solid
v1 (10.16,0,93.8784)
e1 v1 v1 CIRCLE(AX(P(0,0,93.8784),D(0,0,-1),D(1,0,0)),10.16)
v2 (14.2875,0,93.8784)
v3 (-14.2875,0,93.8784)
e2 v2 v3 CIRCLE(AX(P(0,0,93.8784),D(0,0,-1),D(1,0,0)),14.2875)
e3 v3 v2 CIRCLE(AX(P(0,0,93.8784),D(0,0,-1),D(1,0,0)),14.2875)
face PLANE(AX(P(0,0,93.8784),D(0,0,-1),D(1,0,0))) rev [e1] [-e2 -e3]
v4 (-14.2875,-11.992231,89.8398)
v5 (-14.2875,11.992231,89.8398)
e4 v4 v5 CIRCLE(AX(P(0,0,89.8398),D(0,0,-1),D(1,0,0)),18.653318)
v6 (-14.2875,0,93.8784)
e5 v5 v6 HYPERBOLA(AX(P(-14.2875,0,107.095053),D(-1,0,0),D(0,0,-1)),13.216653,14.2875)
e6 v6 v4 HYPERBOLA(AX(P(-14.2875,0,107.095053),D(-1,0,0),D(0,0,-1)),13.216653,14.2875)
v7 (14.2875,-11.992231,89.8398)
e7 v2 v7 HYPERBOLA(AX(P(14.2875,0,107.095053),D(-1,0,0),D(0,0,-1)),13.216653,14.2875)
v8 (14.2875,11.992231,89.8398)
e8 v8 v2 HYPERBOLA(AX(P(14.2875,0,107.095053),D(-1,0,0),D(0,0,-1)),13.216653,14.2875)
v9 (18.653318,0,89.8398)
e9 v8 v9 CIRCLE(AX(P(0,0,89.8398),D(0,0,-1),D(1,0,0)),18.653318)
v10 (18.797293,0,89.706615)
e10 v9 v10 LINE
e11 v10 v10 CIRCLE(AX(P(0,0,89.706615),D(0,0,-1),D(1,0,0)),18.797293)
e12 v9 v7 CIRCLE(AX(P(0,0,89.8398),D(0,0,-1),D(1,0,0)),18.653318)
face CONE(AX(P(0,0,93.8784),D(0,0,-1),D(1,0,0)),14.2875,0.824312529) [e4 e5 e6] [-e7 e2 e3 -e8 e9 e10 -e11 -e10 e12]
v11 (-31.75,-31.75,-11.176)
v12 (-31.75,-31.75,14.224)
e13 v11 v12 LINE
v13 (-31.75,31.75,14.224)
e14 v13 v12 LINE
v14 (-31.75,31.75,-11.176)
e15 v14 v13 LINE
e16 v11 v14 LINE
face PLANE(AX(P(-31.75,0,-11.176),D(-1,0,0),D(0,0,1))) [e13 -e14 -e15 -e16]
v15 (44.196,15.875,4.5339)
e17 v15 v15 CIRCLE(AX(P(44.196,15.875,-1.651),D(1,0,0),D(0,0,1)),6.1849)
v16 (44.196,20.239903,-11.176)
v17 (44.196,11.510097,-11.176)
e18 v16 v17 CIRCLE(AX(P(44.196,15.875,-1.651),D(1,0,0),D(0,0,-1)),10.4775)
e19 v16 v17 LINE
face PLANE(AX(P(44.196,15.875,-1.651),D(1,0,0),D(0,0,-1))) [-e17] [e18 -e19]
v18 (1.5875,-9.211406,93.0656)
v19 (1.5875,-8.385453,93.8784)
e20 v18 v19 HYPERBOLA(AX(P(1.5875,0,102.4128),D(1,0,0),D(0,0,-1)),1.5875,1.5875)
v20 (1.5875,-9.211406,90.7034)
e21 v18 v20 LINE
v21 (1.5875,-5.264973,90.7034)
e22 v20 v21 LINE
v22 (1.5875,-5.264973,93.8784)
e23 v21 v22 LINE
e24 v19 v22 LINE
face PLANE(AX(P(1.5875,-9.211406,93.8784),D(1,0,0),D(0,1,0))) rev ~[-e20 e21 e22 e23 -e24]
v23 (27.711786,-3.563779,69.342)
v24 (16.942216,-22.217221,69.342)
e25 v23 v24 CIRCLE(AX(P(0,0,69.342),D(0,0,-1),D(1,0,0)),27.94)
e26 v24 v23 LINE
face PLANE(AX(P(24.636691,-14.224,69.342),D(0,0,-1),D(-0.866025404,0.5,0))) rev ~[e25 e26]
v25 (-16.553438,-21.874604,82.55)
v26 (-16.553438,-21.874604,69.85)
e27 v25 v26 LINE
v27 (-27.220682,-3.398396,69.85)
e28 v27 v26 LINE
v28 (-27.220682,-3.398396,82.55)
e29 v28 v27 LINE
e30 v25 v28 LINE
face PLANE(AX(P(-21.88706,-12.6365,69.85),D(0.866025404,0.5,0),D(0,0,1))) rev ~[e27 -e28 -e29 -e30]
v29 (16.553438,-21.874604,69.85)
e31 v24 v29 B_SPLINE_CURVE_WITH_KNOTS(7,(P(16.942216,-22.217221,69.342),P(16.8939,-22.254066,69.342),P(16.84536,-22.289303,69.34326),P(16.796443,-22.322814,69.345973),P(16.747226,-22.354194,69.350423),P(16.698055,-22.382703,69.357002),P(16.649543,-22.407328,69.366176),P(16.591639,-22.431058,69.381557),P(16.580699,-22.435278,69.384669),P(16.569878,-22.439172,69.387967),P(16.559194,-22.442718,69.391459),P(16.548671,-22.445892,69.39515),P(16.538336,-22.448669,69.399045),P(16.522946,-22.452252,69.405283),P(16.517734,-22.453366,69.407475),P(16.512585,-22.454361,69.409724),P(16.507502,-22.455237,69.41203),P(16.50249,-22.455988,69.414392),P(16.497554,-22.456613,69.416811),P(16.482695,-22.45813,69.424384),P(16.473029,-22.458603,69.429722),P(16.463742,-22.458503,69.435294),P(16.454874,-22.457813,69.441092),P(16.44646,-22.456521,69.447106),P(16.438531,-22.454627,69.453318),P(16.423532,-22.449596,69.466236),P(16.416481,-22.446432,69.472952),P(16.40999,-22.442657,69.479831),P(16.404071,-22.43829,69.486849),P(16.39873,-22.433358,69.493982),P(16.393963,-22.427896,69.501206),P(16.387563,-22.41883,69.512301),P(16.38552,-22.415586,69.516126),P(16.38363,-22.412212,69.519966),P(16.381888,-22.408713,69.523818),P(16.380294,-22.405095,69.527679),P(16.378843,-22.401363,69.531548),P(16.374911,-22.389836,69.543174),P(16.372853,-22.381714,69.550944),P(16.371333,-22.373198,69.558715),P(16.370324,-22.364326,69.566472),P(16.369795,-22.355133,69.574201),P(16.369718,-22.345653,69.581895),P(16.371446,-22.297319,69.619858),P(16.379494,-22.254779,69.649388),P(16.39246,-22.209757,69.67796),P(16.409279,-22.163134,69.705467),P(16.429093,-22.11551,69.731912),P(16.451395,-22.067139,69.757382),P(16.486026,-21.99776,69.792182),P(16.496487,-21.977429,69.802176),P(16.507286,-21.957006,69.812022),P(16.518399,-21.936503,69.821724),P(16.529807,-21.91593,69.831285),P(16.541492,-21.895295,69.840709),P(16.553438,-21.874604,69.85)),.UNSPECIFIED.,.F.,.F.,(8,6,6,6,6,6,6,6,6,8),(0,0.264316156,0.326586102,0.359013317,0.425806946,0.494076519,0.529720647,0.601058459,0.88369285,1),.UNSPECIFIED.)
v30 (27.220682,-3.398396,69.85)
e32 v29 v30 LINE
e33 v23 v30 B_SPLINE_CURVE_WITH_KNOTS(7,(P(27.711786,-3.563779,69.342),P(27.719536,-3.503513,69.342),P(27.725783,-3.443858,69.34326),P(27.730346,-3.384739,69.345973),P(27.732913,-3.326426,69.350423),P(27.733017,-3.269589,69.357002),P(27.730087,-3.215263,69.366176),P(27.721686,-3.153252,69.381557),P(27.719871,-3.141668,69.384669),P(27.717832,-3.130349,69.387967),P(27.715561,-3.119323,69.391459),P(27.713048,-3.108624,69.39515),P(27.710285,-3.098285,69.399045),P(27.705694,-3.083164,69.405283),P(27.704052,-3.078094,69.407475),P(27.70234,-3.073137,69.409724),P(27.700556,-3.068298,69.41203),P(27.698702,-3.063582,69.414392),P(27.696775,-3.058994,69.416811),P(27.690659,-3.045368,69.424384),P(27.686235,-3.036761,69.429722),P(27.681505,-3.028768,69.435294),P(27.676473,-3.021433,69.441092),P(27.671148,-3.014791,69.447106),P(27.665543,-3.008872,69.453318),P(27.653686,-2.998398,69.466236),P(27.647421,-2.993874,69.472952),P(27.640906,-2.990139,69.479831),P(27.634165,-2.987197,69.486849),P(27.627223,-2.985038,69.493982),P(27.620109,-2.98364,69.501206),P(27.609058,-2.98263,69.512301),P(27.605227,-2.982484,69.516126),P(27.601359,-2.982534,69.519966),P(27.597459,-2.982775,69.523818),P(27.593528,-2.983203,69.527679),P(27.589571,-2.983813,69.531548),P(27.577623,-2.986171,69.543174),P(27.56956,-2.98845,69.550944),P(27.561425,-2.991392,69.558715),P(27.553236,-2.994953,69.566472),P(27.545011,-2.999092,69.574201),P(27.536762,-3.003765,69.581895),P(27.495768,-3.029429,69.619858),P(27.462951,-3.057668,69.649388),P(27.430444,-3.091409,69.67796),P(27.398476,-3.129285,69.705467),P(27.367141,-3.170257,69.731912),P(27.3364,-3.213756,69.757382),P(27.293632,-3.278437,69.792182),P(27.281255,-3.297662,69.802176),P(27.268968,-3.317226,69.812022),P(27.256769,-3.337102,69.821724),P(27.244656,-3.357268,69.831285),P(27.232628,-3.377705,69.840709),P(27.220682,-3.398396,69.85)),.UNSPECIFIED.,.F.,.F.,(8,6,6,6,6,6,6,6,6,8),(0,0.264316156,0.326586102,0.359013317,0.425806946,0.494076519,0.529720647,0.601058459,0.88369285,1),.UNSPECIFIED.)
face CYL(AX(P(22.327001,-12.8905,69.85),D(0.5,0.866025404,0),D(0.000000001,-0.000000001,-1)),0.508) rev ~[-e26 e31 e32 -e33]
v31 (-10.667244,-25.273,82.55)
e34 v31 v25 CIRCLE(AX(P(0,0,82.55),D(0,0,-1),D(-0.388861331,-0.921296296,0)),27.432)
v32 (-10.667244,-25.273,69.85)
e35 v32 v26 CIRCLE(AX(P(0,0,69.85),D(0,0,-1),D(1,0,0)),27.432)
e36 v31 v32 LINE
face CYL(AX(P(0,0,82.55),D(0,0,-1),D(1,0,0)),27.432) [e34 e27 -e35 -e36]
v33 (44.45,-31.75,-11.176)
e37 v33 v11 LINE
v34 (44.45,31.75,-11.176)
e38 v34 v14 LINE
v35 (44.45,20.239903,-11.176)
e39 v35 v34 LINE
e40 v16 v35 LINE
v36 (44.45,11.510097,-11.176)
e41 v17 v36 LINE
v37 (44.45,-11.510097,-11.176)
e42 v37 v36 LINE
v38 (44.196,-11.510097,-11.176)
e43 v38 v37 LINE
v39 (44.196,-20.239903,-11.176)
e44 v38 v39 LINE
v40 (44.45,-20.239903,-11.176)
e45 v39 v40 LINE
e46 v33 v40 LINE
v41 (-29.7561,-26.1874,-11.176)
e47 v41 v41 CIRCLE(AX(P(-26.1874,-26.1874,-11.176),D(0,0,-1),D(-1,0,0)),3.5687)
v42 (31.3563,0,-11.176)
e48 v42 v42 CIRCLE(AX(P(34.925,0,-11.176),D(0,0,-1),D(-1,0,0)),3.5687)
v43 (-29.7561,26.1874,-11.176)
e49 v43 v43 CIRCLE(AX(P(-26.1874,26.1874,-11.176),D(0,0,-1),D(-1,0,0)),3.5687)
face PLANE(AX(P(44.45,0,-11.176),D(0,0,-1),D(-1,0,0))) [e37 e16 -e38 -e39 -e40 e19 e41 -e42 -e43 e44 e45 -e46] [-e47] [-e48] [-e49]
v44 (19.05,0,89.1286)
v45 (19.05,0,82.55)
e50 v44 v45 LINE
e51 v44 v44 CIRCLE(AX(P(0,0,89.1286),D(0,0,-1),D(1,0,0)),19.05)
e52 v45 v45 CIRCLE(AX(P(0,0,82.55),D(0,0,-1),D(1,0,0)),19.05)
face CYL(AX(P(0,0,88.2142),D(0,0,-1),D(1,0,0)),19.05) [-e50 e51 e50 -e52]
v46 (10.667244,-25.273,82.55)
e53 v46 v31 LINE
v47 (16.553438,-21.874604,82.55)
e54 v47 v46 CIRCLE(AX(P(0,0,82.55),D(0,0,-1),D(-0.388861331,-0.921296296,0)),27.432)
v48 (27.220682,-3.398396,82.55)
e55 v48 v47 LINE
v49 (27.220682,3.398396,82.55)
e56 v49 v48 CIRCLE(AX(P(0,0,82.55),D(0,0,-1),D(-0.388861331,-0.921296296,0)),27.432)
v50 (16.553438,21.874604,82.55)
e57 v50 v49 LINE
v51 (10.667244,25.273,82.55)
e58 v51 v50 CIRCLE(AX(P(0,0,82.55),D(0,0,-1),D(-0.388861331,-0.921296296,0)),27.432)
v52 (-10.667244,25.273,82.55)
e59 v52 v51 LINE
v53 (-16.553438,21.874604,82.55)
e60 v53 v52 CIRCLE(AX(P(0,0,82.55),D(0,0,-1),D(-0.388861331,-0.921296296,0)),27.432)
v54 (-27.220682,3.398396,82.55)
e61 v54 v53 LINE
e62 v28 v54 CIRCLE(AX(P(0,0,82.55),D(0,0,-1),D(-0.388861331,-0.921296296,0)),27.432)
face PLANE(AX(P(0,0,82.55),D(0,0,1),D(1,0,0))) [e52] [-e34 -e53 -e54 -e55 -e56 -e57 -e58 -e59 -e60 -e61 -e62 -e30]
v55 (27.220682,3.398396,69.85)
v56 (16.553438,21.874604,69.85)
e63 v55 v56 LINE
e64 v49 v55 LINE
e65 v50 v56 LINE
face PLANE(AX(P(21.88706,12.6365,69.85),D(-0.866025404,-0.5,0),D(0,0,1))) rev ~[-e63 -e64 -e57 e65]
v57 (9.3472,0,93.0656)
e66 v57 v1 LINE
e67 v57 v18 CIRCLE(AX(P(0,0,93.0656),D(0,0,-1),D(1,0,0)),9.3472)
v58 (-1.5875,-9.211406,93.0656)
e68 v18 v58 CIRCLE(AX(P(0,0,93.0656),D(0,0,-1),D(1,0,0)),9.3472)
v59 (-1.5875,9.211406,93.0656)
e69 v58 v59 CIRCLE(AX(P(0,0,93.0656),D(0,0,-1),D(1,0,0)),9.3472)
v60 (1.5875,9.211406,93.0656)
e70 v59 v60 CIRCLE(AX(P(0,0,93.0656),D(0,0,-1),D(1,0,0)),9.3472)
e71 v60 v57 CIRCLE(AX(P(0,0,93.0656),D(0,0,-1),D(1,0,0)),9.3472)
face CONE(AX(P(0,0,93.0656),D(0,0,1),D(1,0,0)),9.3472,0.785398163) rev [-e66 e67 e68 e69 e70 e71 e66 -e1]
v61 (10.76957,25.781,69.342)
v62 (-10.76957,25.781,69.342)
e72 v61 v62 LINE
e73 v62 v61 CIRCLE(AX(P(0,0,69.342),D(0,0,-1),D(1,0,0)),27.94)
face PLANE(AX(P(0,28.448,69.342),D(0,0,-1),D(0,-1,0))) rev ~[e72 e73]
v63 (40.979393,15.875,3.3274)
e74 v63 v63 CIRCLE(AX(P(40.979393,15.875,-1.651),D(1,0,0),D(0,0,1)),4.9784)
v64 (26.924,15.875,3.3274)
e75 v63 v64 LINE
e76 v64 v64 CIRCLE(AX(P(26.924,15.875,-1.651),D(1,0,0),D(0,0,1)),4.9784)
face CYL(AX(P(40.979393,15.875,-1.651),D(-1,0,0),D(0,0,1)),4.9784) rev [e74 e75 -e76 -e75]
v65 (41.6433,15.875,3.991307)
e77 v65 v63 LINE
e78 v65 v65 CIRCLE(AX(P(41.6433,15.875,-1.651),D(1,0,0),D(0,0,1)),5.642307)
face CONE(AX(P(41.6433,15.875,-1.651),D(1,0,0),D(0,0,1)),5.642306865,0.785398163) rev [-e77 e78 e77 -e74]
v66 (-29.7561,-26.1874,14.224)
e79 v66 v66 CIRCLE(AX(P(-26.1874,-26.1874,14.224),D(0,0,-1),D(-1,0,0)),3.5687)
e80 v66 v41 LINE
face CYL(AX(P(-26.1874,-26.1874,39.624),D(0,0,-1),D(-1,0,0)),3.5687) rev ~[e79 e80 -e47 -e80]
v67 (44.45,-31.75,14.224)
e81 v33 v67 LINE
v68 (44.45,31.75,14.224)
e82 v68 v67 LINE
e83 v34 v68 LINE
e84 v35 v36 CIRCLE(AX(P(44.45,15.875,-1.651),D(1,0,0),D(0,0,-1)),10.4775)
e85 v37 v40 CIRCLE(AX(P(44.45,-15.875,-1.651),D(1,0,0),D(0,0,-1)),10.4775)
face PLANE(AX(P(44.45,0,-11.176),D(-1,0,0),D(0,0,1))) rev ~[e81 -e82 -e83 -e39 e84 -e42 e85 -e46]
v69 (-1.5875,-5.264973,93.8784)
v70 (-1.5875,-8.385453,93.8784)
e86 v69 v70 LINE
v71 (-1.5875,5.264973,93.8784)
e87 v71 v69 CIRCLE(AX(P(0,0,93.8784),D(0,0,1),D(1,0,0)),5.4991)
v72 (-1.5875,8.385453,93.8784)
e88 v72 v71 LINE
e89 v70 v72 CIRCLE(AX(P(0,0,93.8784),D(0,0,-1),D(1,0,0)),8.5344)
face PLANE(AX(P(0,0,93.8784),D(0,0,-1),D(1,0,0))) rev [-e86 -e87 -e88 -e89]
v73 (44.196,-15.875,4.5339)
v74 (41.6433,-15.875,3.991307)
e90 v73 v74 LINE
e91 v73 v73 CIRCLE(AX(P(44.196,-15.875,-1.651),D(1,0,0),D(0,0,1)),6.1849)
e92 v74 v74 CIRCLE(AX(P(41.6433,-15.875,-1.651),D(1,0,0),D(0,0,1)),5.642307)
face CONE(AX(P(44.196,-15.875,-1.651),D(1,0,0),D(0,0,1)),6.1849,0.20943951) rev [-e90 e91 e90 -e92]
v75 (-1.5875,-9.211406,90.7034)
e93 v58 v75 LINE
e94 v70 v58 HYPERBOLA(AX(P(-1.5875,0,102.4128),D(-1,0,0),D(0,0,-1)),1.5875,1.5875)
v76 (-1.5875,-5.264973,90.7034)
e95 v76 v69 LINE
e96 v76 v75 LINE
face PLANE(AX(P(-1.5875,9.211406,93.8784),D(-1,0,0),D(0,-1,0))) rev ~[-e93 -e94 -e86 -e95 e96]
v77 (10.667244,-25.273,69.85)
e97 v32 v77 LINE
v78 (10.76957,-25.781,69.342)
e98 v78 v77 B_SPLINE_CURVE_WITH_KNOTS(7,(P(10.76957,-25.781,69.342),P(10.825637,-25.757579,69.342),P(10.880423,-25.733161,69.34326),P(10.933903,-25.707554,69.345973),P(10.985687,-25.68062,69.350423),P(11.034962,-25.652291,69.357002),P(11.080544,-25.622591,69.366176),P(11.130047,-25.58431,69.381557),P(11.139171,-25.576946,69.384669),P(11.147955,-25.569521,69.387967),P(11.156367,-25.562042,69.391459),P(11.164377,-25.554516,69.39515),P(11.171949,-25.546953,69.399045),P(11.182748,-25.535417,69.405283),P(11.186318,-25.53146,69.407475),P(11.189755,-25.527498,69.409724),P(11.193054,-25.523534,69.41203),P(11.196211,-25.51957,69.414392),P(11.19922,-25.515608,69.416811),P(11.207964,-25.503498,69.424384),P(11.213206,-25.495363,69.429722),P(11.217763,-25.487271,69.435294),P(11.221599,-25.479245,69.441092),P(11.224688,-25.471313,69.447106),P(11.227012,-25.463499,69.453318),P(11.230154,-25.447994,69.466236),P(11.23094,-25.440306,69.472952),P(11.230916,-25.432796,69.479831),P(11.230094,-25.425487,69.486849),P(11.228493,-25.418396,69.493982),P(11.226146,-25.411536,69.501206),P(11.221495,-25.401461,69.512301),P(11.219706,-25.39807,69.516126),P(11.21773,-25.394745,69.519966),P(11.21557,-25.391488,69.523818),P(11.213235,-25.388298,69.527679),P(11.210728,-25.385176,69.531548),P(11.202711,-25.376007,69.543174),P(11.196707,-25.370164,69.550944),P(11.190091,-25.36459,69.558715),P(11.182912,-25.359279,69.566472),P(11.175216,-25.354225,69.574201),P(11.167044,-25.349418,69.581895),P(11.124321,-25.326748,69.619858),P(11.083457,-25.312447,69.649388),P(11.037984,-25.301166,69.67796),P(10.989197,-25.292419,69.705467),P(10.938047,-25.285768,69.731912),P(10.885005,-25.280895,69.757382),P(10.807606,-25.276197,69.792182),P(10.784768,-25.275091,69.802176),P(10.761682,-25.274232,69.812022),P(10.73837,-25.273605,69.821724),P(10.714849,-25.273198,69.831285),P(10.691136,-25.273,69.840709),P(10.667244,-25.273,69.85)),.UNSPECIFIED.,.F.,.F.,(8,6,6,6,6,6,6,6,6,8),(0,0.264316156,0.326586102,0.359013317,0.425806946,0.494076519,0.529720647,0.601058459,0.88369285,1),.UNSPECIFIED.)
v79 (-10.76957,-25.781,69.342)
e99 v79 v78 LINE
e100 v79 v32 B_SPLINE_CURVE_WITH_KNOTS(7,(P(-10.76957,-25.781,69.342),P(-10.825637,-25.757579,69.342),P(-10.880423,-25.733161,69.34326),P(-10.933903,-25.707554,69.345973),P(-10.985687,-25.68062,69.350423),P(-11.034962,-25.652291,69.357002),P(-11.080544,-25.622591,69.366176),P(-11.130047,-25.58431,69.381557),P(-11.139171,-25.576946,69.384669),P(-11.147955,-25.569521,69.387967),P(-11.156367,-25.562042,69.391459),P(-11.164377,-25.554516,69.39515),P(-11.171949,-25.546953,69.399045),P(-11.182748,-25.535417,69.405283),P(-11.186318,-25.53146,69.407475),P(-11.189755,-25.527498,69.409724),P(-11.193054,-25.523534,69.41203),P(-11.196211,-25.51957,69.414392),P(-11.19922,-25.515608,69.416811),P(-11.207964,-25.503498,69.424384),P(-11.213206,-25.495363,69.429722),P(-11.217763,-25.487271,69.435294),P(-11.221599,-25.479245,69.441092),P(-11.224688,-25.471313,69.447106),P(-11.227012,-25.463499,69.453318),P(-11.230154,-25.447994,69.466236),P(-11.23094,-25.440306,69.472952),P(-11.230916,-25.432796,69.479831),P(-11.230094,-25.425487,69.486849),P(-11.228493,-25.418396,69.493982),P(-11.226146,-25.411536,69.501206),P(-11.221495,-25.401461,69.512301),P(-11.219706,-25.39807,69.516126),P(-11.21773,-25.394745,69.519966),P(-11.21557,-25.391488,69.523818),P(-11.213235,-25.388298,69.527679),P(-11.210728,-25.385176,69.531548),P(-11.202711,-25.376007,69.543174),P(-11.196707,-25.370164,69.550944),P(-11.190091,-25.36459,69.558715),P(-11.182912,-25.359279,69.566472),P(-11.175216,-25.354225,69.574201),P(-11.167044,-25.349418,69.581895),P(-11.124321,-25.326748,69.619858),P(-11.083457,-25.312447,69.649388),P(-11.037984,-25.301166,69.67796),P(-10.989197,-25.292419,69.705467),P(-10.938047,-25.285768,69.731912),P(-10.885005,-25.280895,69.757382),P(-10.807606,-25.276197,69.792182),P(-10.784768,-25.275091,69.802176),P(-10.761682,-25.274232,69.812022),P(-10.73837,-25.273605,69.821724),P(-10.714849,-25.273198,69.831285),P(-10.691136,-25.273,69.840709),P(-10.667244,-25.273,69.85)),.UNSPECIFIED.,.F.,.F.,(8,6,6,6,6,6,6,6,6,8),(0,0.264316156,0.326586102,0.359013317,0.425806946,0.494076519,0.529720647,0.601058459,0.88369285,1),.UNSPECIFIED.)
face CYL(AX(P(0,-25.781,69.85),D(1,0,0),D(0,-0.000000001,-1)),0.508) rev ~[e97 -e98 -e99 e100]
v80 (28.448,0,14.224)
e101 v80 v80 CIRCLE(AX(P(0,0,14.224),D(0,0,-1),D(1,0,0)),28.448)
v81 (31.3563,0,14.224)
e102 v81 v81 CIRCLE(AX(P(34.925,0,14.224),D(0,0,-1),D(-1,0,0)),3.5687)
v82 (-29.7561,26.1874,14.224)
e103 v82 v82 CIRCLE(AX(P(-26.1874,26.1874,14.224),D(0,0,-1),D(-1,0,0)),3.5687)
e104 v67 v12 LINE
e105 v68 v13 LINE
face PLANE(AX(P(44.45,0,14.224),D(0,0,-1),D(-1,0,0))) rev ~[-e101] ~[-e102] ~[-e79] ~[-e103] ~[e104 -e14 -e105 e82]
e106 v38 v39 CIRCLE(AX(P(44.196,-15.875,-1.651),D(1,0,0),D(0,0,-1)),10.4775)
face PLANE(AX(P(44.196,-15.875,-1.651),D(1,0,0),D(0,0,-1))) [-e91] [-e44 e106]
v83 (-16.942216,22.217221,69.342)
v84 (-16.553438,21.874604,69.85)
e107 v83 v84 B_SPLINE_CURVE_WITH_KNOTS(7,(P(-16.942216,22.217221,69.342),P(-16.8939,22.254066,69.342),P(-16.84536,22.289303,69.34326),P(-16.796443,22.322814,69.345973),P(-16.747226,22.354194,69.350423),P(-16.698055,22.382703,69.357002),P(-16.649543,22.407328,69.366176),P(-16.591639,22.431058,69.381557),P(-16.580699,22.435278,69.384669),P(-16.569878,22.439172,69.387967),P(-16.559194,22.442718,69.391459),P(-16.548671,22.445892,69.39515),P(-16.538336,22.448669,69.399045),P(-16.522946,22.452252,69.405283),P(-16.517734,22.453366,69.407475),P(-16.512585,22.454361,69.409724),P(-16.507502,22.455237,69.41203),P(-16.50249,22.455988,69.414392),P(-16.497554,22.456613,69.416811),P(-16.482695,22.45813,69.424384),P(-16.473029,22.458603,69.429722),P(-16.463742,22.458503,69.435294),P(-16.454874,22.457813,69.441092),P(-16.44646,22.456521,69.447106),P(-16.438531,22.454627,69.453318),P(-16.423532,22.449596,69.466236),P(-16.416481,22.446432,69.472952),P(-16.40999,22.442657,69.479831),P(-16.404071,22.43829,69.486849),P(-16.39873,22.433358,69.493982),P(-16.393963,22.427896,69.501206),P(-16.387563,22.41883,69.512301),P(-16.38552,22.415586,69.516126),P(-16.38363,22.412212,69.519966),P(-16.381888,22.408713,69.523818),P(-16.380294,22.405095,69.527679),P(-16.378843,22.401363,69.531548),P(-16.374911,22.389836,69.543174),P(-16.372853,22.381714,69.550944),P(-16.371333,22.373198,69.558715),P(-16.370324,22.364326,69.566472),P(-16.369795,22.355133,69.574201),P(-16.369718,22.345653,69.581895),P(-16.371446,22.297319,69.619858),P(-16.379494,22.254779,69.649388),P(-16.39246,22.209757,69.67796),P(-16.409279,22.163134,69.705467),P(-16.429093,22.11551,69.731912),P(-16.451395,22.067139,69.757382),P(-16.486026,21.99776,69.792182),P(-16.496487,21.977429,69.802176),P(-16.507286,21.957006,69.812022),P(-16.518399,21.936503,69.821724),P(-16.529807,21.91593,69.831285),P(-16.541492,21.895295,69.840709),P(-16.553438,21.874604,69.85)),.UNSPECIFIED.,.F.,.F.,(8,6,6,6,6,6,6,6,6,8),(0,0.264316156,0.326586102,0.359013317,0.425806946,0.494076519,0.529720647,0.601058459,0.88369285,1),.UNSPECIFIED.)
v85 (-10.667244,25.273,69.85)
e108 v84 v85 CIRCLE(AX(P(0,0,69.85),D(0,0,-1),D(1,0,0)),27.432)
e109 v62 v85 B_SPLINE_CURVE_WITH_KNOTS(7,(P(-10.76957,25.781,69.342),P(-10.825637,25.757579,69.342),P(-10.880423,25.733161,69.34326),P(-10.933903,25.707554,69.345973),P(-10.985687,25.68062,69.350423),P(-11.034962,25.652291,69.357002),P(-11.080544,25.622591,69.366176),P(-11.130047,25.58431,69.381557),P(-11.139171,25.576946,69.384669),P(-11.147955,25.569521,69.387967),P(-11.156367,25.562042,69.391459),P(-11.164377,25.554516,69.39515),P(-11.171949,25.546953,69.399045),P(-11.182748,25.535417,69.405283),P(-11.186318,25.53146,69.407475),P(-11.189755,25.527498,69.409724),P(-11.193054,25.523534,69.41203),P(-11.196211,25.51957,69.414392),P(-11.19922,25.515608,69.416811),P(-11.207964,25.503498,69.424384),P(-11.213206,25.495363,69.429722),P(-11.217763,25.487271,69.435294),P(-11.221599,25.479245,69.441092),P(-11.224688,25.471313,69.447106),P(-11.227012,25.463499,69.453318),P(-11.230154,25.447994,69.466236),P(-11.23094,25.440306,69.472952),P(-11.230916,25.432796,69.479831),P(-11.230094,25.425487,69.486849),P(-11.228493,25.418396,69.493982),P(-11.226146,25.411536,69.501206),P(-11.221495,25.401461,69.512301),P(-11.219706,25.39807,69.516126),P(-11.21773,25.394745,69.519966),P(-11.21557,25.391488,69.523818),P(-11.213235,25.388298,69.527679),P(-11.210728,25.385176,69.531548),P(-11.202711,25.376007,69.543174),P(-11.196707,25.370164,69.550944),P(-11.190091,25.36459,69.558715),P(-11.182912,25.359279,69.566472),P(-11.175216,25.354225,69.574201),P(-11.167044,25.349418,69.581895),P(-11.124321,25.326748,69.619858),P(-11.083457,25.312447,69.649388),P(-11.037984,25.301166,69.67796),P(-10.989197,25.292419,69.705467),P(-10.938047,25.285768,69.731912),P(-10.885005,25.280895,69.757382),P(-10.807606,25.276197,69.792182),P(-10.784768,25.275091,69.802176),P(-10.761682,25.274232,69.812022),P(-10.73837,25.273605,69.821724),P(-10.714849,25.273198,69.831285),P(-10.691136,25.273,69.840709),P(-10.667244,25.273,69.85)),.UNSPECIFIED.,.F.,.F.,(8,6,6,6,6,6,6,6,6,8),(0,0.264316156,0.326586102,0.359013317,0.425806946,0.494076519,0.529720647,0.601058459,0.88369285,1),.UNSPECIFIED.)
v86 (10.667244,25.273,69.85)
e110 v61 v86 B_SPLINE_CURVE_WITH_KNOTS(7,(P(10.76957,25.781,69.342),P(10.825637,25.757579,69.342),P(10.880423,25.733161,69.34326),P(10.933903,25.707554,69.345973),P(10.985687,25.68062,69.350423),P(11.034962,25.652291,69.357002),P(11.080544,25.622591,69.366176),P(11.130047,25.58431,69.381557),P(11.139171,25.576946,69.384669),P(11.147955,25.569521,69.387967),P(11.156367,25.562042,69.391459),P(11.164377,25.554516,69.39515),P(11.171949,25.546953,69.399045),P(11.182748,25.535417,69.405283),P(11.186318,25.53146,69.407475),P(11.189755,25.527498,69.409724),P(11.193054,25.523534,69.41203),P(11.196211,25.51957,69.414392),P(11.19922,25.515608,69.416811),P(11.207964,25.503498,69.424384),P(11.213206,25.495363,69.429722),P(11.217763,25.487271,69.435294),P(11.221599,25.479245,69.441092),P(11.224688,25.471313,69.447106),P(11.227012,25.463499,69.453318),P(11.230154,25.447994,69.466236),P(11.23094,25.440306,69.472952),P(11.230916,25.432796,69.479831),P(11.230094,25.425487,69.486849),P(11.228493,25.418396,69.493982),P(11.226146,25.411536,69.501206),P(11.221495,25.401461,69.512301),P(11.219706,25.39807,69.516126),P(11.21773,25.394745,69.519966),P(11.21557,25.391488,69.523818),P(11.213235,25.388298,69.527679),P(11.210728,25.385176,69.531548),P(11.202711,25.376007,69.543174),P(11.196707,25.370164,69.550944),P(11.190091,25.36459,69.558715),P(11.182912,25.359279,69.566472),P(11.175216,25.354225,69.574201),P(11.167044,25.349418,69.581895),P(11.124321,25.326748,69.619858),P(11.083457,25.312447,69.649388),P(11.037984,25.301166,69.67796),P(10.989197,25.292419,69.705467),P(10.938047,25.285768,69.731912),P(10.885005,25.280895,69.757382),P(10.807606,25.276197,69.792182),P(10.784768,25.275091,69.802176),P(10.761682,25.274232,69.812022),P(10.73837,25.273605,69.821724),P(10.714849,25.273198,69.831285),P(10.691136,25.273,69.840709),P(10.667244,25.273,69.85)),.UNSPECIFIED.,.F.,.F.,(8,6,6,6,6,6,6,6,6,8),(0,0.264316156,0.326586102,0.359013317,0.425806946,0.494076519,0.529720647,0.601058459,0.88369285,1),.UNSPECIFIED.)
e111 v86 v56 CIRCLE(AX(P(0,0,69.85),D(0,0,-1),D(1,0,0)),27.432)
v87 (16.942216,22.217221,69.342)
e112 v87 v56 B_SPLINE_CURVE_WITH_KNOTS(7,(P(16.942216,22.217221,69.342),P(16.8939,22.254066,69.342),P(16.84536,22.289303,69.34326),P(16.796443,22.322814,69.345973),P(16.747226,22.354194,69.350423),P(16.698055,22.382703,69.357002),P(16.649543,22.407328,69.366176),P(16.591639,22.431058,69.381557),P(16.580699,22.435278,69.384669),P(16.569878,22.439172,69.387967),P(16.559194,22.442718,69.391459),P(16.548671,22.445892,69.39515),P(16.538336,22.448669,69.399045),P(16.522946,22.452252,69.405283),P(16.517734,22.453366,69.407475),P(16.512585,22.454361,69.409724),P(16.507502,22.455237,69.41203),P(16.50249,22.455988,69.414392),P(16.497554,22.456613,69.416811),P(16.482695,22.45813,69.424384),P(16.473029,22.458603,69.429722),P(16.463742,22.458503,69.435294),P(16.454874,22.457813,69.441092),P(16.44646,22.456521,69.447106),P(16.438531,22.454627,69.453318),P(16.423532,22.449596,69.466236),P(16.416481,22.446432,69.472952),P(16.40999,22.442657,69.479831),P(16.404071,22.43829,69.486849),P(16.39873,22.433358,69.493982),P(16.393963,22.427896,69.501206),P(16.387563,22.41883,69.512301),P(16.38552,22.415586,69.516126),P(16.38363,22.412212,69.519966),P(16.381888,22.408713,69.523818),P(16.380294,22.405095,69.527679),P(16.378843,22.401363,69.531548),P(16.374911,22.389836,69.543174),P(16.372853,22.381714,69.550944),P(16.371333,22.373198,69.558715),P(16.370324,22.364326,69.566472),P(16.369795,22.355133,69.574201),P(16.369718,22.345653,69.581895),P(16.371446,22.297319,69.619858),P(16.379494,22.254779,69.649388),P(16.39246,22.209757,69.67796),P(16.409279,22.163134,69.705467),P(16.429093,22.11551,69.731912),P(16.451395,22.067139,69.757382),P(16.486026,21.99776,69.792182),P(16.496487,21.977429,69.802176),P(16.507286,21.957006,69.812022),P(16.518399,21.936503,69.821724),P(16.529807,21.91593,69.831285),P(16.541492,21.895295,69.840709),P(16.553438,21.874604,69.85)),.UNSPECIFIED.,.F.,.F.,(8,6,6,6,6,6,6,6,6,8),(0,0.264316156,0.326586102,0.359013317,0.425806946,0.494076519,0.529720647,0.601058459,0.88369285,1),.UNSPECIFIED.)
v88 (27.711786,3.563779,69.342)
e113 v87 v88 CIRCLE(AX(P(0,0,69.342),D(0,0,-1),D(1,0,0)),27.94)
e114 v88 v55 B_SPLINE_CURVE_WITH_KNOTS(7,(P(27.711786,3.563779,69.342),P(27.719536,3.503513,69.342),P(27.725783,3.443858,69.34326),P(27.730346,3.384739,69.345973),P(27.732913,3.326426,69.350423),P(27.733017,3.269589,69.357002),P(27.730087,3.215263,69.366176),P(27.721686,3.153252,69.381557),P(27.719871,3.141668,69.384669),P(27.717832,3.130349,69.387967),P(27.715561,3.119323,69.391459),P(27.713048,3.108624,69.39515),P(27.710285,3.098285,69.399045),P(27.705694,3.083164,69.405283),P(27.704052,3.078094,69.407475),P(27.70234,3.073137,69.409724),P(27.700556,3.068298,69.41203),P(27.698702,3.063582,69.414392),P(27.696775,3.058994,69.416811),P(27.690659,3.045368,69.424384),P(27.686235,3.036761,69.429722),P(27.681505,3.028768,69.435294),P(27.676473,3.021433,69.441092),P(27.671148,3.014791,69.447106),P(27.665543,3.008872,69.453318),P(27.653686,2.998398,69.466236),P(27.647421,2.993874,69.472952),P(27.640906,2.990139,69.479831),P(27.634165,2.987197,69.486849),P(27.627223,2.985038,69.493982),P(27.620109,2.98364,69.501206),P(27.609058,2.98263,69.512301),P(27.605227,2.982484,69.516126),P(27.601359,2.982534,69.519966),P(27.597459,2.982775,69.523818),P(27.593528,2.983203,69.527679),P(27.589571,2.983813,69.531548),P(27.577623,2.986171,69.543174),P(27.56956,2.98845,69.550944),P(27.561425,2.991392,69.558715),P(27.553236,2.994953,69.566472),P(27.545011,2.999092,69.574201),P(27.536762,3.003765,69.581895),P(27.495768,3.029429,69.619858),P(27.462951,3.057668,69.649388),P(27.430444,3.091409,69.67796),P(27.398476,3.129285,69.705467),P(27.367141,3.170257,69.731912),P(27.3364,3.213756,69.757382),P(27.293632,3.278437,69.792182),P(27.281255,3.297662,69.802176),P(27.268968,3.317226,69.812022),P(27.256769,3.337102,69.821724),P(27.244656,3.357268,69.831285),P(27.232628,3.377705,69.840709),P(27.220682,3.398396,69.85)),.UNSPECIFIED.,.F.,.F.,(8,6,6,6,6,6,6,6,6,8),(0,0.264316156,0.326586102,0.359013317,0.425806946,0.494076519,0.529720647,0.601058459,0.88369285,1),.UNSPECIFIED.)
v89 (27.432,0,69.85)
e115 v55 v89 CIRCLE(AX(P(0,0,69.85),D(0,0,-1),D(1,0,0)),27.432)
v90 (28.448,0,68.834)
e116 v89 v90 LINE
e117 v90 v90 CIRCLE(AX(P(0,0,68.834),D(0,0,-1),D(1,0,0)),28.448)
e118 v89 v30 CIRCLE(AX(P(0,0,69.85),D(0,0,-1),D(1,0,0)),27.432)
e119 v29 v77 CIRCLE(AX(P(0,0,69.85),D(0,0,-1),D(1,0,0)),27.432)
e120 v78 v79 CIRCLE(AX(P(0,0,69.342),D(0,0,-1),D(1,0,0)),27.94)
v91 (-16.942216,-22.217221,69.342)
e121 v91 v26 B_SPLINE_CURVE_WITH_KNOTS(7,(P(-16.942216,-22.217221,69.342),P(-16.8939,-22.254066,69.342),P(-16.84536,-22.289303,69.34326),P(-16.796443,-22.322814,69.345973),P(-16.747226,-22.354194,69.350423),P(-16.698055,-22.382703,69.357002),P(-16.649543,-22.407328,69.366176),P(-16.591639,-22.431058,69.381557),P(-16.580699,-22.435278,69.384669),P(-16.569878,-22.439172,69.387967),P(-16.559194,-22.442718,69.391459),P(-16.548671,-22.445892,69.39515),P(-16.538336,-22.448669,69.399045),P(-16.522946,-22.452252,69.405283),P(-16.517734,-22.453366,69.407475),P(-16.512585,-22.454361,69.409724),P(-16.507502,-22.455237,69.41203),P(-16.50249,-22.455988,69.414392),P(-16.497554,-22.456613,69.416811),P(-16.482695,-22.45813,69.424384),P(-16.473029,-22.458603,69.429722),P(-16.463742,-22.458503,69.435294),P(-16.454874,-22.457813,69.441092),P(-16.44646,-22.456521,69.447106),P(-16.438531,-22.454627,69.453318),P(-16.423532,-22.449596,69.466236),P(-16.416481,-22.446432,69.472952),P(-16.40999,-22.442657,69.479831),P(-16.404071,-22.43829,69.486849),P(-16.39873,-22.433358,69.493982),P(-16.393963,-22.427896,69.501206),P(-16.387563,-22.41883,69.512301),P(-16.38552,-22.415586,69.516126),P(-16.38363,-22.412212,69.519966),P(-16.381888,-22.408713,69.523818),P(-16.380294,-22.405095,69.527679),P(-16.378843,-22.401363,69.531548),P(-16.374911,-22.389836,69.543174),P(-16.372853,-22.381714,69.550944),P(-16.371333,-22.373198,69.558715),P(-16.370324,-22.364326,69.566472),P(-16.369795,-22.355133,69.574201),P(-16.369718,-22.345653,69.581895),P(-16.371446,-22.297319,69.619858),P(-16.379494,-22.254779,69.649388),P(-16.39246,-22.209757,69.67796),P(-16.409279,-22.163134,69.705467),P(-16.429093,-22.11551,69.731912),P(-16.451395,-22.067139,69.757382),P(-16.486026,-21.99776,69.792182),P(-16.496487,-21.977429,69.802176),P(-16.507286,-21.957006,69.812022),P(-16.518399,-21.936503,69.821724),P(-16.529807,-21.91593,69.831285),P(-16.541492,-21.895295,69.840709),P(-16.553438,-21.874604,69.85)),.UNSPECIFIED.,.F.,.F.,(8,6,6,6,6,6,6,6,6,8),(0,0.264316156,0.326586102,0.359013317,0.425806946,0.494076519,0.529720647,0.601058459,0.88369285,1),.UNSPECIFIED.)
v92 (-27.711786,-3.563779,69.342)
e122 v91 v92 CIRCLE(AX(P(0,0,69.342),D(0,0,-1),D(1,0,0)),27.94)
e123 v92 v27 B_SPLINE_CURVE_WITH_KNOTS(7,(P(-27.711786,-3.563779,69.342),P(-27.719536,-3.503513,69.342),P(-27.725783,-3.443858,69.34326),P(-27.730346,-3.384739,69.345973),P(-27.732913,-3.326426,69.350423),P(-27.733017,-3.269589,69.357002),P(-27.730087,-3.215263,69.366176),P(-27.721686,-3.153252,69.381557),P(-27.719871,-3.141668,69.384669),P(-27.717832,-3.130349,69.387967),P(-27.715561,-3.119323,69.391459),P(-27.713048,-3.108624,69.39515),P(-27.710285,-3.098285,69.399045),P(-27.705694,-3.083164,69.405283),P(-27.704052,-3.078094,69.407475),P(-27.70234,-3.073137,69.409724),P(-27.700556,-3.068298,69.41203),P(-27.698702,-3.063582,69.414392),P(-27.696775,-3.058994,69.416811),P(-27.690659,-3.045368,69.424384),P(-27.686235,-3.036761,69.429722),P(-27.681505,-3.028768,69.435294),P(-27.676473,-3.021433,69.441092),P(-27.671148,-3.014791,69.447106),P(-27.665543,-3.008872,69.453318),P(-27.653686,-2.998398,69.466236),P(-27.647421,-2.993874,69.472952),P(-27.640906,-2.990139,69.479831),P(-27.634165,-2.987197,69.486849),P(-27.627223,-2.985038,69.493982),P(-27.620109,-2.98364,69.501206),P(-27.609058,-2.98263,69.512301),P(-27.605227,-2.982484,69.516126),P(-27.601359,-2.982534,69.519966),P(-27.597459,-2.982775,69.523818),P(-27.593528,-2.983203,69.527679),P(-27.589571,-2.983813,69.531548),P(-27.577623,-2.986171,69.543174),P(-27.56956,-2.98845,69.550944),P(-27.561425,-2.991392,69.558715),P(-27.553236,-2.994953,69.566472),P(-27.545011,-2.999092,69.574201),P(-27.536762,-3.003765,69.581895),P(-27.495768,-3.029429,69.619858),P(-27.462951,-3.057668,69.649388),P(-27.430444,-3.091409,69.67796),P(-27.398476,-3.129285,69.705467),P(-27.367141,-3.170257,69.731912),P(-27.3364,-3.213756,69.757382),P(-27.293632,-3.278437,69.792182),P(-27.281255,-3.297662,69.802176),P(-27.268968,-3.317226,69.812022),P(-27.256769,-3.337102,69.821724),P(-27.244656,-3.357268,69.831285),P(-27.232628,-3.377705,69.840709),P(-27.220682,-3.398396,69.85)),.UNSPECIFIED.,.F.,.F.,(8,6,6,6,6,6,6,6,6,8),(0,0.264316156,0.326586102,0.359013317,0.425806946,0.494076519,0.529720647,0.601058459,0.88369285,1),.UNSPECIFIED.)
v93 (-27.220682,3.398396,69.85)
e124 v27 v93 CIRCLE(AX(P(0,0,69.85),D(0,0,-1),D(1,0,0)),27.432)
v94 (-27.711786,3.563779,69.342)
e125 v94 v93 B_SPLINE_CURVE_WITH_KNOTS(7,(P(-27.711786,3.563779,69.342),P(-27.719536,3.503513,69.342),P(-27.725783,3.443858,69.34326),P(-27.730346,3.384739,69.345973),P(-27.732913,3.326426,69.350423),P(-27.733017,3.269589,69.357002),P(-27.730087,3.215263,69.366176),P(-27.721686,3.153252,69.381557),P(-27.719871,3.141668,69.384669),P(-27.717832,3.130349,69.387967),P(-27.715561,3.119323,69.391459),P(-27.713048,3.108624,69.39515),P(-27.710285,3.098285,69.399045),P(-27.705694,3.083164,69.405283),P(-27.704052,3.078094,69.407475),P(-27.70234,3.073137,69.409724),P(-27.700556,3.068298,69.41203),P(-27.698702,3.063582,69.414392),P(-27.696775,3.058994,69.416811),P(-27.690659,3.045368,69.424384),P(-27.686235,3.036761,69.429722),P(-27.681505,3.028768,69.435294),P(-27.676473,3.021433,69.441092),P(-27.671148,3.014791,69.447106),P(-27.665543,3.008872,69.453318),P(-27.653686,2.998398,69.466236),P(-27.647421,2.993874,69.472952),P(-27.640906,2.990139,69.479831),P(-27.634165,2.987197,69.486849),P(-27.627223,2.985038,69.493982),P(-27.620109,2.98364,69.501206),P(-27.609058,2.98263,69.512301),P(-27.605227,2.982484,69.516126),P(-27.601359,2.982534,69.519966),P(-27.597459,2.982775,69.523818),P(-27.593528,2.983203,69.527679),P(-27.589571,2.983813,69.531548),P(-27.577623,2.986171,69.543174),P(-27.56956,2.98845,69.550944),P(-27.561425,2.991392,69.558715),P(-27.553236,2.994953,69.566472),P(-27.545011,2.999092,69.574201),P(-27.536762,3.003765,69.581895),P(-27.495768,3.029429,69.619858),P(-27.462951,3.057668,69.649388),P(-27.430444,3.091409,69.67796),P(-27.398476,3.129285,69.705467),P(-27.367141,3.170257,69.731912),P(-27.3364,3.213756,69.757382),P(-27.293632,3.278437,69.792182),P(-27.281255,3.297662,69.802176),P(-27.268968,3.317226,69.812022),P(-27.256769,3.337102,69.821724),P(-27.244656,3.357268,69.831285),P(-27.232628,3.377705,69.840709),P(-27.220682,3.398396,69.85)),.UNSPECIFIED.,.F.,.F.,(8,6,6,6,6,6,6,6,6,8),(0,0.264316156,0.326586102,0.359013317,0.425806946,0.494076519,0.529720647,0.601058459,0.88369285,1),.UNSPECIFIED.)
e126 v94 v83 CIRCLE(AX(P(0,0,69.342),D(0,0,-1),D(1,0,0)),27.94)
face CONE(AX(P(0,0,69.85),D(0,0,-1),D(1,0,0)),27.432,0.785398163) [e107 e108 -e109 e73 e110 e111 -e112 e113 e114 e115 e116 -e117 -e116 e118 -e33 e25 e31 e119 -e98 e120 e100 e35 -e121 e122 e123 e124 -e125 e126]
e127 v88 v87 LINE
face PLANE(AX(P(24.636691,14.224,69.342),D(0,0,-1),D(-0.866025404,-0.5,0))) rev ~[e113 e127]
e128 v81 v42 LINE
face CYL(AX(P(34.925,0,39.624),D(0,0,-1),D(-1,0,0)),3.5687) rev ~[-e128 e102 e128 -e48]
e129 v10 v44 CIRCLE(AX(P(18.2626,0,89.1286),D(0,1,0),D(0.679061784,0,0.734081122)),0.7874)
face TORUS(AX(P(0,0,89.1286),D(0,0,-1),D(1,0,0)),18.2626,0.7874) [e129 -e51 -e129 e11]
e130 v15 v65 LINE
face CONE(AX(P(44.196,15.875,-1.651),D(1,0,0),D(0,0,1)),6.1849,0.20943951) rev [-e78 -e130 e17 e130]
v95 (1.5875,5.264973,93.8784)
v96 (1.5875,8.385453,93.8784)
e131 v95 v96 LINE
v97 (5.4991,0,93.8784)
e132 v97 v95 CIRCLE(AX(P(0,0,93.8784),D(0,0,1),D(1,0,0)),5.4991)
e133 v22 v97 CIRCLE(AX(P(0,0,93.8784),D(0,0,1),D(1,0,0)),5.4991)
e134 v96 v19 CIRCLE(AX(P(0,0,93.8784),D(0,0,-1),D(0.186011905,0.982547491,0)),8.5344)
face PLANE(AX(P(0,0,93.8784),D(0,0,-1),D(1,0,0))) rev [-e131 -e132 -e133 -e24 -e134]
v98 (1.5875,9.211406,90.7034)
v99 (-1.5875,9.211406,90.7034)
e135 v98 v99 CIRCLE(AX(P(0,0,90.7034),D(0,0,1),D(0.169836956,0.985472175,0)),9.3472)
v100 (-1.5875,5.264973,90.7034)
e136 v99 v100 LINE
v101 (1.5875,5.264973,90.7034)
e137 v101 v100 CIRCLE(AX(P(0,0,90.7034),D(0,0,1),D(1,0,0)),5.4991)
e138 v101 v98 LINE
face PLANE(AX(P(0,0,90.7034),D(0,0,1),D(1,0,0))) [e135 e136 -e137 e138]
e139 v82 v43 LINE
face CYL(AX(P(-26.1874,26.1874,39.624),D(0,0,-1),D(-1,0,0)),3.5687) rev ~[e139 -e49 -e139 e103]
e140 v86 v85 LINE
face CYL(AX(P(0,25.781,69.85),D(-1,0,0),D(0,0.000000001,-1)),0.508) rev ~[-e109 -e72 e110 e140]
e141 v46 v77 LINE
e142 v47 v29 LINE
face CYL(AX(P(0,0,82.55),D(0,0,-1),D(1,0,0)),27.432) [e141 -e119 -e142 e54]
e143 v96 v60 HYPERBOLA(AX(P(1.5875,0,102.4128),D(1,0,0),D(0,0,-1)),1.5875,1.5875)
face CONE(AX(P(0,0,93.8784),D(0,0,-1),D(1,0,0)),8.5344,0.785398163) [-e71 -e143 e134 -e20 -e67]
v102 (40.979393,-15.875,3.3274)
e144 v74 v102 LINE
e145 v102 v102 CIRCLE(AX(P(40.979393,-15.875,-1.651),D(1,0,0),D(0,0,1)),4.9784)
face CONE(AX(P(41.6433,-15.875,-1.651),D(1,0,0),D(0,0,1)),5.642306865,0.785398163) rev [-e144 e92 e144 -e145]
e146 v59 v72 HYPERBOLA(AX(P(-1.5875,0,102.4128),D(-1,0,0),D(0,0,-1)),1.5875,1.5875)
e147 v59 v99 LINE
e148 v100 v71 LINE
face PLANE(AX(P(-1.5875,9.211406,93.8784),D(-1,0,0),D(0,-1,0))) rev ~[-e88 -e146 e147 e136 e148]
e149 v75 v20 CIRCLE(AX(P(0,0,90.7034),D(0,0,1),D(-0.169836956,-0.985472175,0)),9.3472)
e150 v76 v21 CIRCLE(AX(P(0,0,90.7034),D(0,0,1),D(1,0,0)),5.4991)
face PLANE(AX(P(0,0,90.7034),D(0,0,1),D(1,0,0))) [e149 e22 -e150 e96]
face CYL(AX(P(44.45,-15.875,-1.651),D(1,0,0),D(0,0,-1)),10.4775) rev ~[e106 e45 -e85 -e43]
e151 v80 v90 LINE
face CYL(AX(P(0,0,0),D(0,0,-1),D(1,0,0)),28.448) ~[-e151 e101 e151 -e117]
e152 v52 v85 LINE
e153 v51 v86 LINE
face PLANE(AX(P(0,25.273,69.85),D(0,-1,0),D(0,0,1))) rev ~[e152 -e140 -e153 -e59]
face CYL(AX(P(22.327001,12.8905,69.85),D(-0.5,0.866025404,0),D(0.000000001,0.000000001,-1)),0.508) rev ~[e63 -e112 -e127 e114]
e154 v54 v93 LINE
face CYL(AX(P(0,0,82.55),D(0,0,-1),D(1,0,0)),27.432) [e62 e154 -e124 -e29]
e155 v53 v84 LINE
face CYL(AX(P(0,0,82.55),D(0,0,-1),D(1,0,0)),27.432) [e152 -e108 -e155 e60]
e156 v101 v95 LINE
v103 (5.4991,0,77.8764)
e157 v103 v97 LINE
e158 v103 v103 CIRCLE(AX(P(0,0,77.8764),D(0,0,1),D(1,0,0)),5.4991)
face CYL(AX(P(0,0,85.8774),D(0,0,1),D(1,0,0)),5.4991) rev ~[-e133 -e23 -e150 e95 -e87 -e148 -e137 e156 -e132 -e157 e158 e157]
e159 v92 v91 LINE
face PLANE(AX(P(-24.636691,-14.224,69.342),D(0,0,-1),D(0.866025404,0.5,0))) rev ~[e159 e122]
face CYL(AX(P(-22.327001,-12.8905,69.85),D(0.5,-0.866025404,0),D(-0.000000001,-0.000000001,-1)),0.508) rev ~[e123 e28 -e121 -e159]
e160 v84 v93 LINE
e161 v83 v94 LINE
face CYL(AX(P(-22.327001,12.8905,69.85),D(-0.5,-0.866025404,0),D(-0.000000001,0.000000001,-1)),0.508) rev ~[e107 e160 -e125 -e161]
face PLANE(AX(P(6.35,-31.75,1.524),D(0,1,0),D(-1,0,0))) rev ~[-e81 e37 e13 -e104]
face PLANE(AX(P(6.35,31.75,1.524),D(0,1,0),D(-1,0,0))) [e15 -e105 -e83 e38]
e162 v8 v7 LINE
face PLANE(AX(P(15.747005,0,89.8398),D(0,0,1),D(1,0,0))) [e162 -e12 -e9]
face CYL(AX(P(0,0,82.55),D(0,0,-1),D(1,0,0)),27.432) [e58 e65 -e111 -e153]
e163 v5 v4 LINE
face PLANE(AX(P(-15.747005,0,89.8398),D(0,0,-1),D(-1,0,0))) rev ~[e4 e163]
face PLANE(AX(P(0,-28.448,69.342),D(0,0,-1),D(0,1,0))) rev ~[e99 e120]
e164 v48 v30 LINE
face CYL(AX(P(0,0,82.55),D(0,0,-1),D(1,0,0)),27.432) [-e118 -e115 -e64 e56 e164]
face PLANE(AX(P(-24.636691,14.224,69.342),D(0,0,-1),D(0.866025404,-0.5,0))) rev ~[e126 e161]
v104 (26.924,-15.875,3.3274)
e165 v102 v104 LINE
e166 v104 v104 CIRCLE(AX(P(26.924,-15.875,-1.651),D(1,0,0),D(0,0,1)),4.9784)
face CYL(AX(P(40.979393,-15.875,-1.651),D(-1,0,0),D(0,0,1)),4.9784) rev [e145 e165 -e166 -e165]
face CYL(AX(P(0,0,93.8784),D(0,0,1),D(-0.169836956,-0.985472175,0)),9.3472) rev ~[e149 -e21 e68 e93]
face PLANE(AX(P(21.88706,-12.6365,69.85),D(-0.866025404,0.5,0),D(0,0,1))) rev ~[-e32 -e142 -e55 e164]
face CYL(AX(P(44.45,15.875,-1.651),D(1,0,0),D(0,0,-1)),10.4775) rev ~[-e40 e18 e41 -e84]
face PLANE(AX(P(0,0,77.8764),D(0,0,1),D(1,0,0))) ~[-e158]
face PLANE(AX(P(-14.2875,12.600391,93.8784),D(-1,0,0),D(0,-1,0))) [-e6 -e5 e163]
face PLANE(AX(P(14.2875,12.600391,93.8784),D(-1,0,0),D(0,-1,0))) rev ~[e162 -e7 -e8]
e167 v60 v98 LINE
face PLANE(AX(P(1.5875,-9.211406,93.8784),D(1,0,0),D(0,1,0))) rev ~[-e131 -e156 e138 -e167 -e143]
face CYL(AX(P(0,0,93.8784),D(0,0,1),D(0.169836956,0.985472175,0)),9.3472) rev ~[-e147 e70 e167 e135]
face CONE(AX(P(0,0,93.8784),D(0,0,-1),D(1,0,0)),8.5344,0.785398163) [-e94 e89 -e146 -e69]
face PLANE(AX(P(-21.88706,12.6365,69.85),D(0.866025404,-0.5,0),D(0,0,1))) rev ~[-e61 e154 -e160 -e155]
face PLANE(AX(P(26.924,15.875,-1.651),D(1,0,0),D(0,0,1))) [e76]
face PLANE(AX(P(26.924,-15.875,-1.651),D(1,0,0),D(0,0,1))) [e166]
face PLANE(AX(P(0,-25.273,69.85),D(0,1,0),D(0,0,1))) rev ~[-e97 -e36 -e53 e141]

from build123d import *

# Parameters (mm, degrees)
SKETCH1_R           = 28.448
EXTRUDE1_DEPTH      = 82.55
CUT_EXTRUDE1_DEPTH  = 34.1376
SKETCH13_W          = 11.3284
SKETCH13_H          = 19.05
S2D0011_W           = 5.4991
S2D0011_H           = 16.002
SKETCH16_W          = 76.2
SKETCH16_H          = 25.4
EXTRUDE2_DEPTH      = 31.75
EXTRUDE2_DEPTH_BACK = 31.75
SKETCH17_R          = 10.4775
CUT_EXTRUDE9_DEPTH  = 0.254
SKETCH18_R          = 10.4775
CUT_EXTRUDE10_DEPTH = 0.254
CIRPATTERN2_COUNT   = 6
HOLE1_D             = 7.1374
HOLE1_DEPTH         = 25.4
CUT_EXTRUDE11_DEPTH = 4.0386
CUT_EXTRUDE12_DEPTH = 3.175


with BuildPart() as part:
    # Sketch1 → Extrude1 (new body)
    with BuildSketch(Plane.XY):
        Circle(SKETCH1_R)
    extrude(amount=EXTRUDE1_DEPTH)

    # Sketch2 → Cut-Extrude1 (cut, symmetric)
    with BuildSketch(Plane(origin=(0, 0, 0), x_dir=(0, 0, 1), z_dir=(1, 0, 0))):
        with BuildLine():
            Line((69.342, 28.448), (69.342, 25.781))
            ThreePointArc((69.342, 25.781), (69.490789755, 25.421789755), (69.85, 25.273))
            Line((69.85, 25.273), (82.55, 25.273))
            Line((82.55, 25.273), (82.55, 28.448))
            Line((82.55, 28.448), (69.342, 28.448))
        make_face()
    cut_extrude1 = extrude(amount=CUT_EXTRUDE1_DEPTH, both=True, mode=Mode.SUBTRACT)

    # Sketch10 → Cut-Revolve1 (revolve, cut)
    with BuildSketch(Plane(origin=(0, 0, 0), x_dir=(0, 0, -1), z_dir=(1, 0, 0)), mode=Mode.PRIVATE) as cut_revolve1_sk:
        Polygon((-82.55, 27.432), (-69.85, 27.432), (-68.834, 28.448), (-82.55, 28.448), align=None)
    revolve(cut_revolve1_sk.sketch.rotate(Axis((0, 0, 83.2358), (0, 0, -1)), 90), axis=Axis((0, 0, 83.2358), (0, 0, -1)), mode=Mode.SUBTRACT)  # turned: the seam where the file's is

    # Sketch13 → Revolve1 (revolve)
    with BuildSketch(Plane(origin=(0, 0, 0), x_dir=(0, 0, -1), z_dir=(1, 0, 0)), mode=Mode.PRIVATE) as revolve1_sk:
        with Locations((-88.2142, 9.525)):
            Rectangle(SKETCH13_W, SKETCH13_H)
    revolve(revolve1_sk.sketch.rotate(Axis((0, 0, 94.44482), (0, 0, -1)), 90), axis=Axis((0, 0, 94.44482), (0, 0, -1)))  # turned: the seam where the file's is

    # S2D0011 → Cut-Revolve4 (revolve, cut)
    with BuildSketch(Plane(origin=(-5.4991, 0, 93.8784), x_dir=(-1, 0, 0), z_dir=(0, 1, 0)), mode=Mode.PRIVATE) as cut_revolve4_sk:
        with Locations((-2.74955, -8.001)):
            Rectangle(S2D0011_W, S2D0011_H)
    revolve(cut_revolve4_sk.sketch.rotate(Axis((0, 0, 39.576937479), (0, 0, 1)), 180), axis=Axis((0, 0, 39.576937479), (0, 0, 1)), mode=Mode.SUBTRACT)  # turned: the seam where the file's is

    # Sketch15 → Cut-Revolve5 (revolve, cut)
    with BuildSketch(Plane(origin=(0, 0, 0), x_dir=(0, 0, -1), z_dir=(1, 0, 0)), mode=Mode.PRIVATE) as cut_revolve5_sk:
        with BuildLine():
            Line((-93.8784, 14.2875), (-89.706615474, 18.79729325))
            ThreePointArc((-89.706615474, 18.79729325), (-89.444021381, 18.984062482), (-89.1286, 19.05))
            Line((-89.1286, 19.05), (-93.8784, 19.05))
            Line((-93.8784, 19.05), (-93.8784, 14.2875))
        make_face()
    revolve(cut_revolve5_sk.sketch.rotate(Axis((0, 0, 94.11589), (0, 0, -1)), 90), axis=Axis((0, 0, 94.11589), (0, 0, -1)), mode=Mode.SUBTRACT)  # turned: the seam where the file's is

    # Sketch16 → Extrude2 (add, two sides)
    with BuildSketch(Plane(origin=(0, 0, 0), x_dir=(-1, 0, 0), z_dir=(0, 1, 0))) as extrude2_sk:
        with Locations((-6.35, 1.524)):
            Rectangle(SKETCH16_W, SKETCH16_H)
    extrude(amount=EXTRUDE2_DEPTH)
    extrude(extrude2_sk.sketch, amount=-EXTRUDE2_DEPTH_BACK)

    # Sketch17 → Cut-Extrude9 (cut)
    with BuildSketch(Plane(origin=(44.45, 0, 0), x_dir=(0, 0, -1), z_dir=(1, 0, 0))):
        with Locations((1.651, -15.875)):
            Circle(SKETCH17_R)
    extrude(amount=-CUT_EXTRUDE9_DEPTH, mode=Mode.SUBTRACT)

    # Sketch18 → Cut-Extrude10 (cut)
    with BuildSketch(Plane(origin=(44.45, 0, 0), x_dir=(0, 0, -1), z_dir=(1, 0, 0))):
        with Locations((1.651, 15.875)):
            Circle(SKETCH18_R)
    extrude(amount=-CUT_EXTRUDE10_DEPTH, mode=Mode.SUBTRACT)

    # S2D0002 → Cut-Revolve6 (revolve, cut)
    with BuildSketch(Plane(origin=(44.196, -15.875, -1.651), x_dir=(0, -1, 0), z_dir=(0, 0, 1)), mode=Mode.PRIVATE) as cut_revolve6_sk:
        Polygon((0, 0), (6.1849, 0), (5.642306865, -2.5527), (4.9784, -3.216606865), (4.9784, -17.272), (0, -17.272), align=None)
    revolve(cut_revolve6_sk.sketch.rotate(Axis((26.0604, -15.875, -1.651), (1, 0, 0)), 270), axis=Axis((26.0604, -15.875, -1.651), (1, 0, 0)), mode=Mode.SUBTRACT)  # turned: the seam where the file's is

    # S2D0001 → Cut-Revolve7 (revolve, cut)
    with BuildSketch(Plane(origin=(44.196, 15.875, -1.651), x_dir=(0, -1, 0), z_dir=(0, 0, 1)), mode=Mode.PRIVATE) as cut_revolve7_sk:
        Polygon((0, 0), (6.1849, 0), (5.642306865, -2.5527), (4.9784, -3.216606865), (4.9784, -17.272), (0, -17.272), align=None)
    revolve(cut_revolve7_sk.sketch.rotate(Axis((26.0604, 15.875, -1.651), (1, 0, 0)), 270), axis=Axis((26.0604, 15.875, -1.651), (1, 0, 0)), mode=Mode.SUBTRACT)  # turned: the seam where the file's is

    # CirPattern2: Cut-Extrude1 ×6 about axis
    cirpattern2_axis = Axis((0, 0, 0), (0, 0, 1))
    for i in range(1, CIRPATTERN2_COUNT):
        add(cut_extrude1.rotate(cirpattern2_axis, i * 360 / CIRPATTERN2_COUNT), mode=Mode.SUBTRACT)

    # Hole1
    with Locations(Plane.XY.offset(14.224)):
        with Locations((-26.1874, -26.1874), (34.925, 0), (-26.1874, 26.1874)):
            Hole(HOLE1_D / 2, depth=HOLE1_DEPTH)

    # Sketch23 → Cut-Extrude11 (cut)
    with BuildSketch(Plane.XY.offset(93.8784)):
        with BuildLine():
            Line((-14.2875, 12.600390619), (-14.2875, -12.600390619))
            ThreePointArc((-14.2875, -12.600390619), (-19.05, 0), (-14.2875, 12.600390619))
        make_face()
        with BuildLine():
            Line((14.2875, 12.600390619), (14.2875, -12.600390619))
            ThreePointArc((14.2875, -12.600390619), (19.05, 0), (14.2875, 12.600390619))
        make_face()
    extrude(amount=-CUT_EXTRUDE11_DEPTH, mode=Mode.SUBTRACT)

    # Sketch25 → Cut-Revolve8 (revolve, cut)
    with BuildSketch(Plane(origin=(0, 0, 0), x_dir=(0, 0, -1), z_dir=(1, 0, 0)), mode=Mode.PRIVATE) as cut_revolve8_sk:
        Polygon((-93.8784, 8.5344), (-93.0656, 9.3472), (-93.8784, 10.16), align=None)
    revolve(cut_revolve8_sk.sketch.rotate(Axis((0, 0, 93.13164), (0, 0, -1)), 90), axis=Axis((0, 0, 93.13164), (0, 0, -1)), mode=Mode.SUBTRACT)  # turned: the seam where the file's is

    # Sketch26 → Cut-Extrude12 (cut)
    with BuildSketch(Plane.XY.offset(93.8784)):
        with BuildLine():
            Line((-1.5875, 9.211405517), (-1.5875, -9.211405517))
            ThreePointArc((-1.5875, -9.211405517), (0, -9.3472), (1.5875, -9.211405517))
            Line((1.5875, -9.211405517), (1.5875, 9.211405517))
            ThreePointArc((1.5875, 9.211405517), (0, 9.3472), (-1.5875, 9.211405517))
        make_face()
    extrude(amount=-CUT_EXTRUDE12_DEPTH, mode=Mode.SUBTRACT)


solid = part.part
